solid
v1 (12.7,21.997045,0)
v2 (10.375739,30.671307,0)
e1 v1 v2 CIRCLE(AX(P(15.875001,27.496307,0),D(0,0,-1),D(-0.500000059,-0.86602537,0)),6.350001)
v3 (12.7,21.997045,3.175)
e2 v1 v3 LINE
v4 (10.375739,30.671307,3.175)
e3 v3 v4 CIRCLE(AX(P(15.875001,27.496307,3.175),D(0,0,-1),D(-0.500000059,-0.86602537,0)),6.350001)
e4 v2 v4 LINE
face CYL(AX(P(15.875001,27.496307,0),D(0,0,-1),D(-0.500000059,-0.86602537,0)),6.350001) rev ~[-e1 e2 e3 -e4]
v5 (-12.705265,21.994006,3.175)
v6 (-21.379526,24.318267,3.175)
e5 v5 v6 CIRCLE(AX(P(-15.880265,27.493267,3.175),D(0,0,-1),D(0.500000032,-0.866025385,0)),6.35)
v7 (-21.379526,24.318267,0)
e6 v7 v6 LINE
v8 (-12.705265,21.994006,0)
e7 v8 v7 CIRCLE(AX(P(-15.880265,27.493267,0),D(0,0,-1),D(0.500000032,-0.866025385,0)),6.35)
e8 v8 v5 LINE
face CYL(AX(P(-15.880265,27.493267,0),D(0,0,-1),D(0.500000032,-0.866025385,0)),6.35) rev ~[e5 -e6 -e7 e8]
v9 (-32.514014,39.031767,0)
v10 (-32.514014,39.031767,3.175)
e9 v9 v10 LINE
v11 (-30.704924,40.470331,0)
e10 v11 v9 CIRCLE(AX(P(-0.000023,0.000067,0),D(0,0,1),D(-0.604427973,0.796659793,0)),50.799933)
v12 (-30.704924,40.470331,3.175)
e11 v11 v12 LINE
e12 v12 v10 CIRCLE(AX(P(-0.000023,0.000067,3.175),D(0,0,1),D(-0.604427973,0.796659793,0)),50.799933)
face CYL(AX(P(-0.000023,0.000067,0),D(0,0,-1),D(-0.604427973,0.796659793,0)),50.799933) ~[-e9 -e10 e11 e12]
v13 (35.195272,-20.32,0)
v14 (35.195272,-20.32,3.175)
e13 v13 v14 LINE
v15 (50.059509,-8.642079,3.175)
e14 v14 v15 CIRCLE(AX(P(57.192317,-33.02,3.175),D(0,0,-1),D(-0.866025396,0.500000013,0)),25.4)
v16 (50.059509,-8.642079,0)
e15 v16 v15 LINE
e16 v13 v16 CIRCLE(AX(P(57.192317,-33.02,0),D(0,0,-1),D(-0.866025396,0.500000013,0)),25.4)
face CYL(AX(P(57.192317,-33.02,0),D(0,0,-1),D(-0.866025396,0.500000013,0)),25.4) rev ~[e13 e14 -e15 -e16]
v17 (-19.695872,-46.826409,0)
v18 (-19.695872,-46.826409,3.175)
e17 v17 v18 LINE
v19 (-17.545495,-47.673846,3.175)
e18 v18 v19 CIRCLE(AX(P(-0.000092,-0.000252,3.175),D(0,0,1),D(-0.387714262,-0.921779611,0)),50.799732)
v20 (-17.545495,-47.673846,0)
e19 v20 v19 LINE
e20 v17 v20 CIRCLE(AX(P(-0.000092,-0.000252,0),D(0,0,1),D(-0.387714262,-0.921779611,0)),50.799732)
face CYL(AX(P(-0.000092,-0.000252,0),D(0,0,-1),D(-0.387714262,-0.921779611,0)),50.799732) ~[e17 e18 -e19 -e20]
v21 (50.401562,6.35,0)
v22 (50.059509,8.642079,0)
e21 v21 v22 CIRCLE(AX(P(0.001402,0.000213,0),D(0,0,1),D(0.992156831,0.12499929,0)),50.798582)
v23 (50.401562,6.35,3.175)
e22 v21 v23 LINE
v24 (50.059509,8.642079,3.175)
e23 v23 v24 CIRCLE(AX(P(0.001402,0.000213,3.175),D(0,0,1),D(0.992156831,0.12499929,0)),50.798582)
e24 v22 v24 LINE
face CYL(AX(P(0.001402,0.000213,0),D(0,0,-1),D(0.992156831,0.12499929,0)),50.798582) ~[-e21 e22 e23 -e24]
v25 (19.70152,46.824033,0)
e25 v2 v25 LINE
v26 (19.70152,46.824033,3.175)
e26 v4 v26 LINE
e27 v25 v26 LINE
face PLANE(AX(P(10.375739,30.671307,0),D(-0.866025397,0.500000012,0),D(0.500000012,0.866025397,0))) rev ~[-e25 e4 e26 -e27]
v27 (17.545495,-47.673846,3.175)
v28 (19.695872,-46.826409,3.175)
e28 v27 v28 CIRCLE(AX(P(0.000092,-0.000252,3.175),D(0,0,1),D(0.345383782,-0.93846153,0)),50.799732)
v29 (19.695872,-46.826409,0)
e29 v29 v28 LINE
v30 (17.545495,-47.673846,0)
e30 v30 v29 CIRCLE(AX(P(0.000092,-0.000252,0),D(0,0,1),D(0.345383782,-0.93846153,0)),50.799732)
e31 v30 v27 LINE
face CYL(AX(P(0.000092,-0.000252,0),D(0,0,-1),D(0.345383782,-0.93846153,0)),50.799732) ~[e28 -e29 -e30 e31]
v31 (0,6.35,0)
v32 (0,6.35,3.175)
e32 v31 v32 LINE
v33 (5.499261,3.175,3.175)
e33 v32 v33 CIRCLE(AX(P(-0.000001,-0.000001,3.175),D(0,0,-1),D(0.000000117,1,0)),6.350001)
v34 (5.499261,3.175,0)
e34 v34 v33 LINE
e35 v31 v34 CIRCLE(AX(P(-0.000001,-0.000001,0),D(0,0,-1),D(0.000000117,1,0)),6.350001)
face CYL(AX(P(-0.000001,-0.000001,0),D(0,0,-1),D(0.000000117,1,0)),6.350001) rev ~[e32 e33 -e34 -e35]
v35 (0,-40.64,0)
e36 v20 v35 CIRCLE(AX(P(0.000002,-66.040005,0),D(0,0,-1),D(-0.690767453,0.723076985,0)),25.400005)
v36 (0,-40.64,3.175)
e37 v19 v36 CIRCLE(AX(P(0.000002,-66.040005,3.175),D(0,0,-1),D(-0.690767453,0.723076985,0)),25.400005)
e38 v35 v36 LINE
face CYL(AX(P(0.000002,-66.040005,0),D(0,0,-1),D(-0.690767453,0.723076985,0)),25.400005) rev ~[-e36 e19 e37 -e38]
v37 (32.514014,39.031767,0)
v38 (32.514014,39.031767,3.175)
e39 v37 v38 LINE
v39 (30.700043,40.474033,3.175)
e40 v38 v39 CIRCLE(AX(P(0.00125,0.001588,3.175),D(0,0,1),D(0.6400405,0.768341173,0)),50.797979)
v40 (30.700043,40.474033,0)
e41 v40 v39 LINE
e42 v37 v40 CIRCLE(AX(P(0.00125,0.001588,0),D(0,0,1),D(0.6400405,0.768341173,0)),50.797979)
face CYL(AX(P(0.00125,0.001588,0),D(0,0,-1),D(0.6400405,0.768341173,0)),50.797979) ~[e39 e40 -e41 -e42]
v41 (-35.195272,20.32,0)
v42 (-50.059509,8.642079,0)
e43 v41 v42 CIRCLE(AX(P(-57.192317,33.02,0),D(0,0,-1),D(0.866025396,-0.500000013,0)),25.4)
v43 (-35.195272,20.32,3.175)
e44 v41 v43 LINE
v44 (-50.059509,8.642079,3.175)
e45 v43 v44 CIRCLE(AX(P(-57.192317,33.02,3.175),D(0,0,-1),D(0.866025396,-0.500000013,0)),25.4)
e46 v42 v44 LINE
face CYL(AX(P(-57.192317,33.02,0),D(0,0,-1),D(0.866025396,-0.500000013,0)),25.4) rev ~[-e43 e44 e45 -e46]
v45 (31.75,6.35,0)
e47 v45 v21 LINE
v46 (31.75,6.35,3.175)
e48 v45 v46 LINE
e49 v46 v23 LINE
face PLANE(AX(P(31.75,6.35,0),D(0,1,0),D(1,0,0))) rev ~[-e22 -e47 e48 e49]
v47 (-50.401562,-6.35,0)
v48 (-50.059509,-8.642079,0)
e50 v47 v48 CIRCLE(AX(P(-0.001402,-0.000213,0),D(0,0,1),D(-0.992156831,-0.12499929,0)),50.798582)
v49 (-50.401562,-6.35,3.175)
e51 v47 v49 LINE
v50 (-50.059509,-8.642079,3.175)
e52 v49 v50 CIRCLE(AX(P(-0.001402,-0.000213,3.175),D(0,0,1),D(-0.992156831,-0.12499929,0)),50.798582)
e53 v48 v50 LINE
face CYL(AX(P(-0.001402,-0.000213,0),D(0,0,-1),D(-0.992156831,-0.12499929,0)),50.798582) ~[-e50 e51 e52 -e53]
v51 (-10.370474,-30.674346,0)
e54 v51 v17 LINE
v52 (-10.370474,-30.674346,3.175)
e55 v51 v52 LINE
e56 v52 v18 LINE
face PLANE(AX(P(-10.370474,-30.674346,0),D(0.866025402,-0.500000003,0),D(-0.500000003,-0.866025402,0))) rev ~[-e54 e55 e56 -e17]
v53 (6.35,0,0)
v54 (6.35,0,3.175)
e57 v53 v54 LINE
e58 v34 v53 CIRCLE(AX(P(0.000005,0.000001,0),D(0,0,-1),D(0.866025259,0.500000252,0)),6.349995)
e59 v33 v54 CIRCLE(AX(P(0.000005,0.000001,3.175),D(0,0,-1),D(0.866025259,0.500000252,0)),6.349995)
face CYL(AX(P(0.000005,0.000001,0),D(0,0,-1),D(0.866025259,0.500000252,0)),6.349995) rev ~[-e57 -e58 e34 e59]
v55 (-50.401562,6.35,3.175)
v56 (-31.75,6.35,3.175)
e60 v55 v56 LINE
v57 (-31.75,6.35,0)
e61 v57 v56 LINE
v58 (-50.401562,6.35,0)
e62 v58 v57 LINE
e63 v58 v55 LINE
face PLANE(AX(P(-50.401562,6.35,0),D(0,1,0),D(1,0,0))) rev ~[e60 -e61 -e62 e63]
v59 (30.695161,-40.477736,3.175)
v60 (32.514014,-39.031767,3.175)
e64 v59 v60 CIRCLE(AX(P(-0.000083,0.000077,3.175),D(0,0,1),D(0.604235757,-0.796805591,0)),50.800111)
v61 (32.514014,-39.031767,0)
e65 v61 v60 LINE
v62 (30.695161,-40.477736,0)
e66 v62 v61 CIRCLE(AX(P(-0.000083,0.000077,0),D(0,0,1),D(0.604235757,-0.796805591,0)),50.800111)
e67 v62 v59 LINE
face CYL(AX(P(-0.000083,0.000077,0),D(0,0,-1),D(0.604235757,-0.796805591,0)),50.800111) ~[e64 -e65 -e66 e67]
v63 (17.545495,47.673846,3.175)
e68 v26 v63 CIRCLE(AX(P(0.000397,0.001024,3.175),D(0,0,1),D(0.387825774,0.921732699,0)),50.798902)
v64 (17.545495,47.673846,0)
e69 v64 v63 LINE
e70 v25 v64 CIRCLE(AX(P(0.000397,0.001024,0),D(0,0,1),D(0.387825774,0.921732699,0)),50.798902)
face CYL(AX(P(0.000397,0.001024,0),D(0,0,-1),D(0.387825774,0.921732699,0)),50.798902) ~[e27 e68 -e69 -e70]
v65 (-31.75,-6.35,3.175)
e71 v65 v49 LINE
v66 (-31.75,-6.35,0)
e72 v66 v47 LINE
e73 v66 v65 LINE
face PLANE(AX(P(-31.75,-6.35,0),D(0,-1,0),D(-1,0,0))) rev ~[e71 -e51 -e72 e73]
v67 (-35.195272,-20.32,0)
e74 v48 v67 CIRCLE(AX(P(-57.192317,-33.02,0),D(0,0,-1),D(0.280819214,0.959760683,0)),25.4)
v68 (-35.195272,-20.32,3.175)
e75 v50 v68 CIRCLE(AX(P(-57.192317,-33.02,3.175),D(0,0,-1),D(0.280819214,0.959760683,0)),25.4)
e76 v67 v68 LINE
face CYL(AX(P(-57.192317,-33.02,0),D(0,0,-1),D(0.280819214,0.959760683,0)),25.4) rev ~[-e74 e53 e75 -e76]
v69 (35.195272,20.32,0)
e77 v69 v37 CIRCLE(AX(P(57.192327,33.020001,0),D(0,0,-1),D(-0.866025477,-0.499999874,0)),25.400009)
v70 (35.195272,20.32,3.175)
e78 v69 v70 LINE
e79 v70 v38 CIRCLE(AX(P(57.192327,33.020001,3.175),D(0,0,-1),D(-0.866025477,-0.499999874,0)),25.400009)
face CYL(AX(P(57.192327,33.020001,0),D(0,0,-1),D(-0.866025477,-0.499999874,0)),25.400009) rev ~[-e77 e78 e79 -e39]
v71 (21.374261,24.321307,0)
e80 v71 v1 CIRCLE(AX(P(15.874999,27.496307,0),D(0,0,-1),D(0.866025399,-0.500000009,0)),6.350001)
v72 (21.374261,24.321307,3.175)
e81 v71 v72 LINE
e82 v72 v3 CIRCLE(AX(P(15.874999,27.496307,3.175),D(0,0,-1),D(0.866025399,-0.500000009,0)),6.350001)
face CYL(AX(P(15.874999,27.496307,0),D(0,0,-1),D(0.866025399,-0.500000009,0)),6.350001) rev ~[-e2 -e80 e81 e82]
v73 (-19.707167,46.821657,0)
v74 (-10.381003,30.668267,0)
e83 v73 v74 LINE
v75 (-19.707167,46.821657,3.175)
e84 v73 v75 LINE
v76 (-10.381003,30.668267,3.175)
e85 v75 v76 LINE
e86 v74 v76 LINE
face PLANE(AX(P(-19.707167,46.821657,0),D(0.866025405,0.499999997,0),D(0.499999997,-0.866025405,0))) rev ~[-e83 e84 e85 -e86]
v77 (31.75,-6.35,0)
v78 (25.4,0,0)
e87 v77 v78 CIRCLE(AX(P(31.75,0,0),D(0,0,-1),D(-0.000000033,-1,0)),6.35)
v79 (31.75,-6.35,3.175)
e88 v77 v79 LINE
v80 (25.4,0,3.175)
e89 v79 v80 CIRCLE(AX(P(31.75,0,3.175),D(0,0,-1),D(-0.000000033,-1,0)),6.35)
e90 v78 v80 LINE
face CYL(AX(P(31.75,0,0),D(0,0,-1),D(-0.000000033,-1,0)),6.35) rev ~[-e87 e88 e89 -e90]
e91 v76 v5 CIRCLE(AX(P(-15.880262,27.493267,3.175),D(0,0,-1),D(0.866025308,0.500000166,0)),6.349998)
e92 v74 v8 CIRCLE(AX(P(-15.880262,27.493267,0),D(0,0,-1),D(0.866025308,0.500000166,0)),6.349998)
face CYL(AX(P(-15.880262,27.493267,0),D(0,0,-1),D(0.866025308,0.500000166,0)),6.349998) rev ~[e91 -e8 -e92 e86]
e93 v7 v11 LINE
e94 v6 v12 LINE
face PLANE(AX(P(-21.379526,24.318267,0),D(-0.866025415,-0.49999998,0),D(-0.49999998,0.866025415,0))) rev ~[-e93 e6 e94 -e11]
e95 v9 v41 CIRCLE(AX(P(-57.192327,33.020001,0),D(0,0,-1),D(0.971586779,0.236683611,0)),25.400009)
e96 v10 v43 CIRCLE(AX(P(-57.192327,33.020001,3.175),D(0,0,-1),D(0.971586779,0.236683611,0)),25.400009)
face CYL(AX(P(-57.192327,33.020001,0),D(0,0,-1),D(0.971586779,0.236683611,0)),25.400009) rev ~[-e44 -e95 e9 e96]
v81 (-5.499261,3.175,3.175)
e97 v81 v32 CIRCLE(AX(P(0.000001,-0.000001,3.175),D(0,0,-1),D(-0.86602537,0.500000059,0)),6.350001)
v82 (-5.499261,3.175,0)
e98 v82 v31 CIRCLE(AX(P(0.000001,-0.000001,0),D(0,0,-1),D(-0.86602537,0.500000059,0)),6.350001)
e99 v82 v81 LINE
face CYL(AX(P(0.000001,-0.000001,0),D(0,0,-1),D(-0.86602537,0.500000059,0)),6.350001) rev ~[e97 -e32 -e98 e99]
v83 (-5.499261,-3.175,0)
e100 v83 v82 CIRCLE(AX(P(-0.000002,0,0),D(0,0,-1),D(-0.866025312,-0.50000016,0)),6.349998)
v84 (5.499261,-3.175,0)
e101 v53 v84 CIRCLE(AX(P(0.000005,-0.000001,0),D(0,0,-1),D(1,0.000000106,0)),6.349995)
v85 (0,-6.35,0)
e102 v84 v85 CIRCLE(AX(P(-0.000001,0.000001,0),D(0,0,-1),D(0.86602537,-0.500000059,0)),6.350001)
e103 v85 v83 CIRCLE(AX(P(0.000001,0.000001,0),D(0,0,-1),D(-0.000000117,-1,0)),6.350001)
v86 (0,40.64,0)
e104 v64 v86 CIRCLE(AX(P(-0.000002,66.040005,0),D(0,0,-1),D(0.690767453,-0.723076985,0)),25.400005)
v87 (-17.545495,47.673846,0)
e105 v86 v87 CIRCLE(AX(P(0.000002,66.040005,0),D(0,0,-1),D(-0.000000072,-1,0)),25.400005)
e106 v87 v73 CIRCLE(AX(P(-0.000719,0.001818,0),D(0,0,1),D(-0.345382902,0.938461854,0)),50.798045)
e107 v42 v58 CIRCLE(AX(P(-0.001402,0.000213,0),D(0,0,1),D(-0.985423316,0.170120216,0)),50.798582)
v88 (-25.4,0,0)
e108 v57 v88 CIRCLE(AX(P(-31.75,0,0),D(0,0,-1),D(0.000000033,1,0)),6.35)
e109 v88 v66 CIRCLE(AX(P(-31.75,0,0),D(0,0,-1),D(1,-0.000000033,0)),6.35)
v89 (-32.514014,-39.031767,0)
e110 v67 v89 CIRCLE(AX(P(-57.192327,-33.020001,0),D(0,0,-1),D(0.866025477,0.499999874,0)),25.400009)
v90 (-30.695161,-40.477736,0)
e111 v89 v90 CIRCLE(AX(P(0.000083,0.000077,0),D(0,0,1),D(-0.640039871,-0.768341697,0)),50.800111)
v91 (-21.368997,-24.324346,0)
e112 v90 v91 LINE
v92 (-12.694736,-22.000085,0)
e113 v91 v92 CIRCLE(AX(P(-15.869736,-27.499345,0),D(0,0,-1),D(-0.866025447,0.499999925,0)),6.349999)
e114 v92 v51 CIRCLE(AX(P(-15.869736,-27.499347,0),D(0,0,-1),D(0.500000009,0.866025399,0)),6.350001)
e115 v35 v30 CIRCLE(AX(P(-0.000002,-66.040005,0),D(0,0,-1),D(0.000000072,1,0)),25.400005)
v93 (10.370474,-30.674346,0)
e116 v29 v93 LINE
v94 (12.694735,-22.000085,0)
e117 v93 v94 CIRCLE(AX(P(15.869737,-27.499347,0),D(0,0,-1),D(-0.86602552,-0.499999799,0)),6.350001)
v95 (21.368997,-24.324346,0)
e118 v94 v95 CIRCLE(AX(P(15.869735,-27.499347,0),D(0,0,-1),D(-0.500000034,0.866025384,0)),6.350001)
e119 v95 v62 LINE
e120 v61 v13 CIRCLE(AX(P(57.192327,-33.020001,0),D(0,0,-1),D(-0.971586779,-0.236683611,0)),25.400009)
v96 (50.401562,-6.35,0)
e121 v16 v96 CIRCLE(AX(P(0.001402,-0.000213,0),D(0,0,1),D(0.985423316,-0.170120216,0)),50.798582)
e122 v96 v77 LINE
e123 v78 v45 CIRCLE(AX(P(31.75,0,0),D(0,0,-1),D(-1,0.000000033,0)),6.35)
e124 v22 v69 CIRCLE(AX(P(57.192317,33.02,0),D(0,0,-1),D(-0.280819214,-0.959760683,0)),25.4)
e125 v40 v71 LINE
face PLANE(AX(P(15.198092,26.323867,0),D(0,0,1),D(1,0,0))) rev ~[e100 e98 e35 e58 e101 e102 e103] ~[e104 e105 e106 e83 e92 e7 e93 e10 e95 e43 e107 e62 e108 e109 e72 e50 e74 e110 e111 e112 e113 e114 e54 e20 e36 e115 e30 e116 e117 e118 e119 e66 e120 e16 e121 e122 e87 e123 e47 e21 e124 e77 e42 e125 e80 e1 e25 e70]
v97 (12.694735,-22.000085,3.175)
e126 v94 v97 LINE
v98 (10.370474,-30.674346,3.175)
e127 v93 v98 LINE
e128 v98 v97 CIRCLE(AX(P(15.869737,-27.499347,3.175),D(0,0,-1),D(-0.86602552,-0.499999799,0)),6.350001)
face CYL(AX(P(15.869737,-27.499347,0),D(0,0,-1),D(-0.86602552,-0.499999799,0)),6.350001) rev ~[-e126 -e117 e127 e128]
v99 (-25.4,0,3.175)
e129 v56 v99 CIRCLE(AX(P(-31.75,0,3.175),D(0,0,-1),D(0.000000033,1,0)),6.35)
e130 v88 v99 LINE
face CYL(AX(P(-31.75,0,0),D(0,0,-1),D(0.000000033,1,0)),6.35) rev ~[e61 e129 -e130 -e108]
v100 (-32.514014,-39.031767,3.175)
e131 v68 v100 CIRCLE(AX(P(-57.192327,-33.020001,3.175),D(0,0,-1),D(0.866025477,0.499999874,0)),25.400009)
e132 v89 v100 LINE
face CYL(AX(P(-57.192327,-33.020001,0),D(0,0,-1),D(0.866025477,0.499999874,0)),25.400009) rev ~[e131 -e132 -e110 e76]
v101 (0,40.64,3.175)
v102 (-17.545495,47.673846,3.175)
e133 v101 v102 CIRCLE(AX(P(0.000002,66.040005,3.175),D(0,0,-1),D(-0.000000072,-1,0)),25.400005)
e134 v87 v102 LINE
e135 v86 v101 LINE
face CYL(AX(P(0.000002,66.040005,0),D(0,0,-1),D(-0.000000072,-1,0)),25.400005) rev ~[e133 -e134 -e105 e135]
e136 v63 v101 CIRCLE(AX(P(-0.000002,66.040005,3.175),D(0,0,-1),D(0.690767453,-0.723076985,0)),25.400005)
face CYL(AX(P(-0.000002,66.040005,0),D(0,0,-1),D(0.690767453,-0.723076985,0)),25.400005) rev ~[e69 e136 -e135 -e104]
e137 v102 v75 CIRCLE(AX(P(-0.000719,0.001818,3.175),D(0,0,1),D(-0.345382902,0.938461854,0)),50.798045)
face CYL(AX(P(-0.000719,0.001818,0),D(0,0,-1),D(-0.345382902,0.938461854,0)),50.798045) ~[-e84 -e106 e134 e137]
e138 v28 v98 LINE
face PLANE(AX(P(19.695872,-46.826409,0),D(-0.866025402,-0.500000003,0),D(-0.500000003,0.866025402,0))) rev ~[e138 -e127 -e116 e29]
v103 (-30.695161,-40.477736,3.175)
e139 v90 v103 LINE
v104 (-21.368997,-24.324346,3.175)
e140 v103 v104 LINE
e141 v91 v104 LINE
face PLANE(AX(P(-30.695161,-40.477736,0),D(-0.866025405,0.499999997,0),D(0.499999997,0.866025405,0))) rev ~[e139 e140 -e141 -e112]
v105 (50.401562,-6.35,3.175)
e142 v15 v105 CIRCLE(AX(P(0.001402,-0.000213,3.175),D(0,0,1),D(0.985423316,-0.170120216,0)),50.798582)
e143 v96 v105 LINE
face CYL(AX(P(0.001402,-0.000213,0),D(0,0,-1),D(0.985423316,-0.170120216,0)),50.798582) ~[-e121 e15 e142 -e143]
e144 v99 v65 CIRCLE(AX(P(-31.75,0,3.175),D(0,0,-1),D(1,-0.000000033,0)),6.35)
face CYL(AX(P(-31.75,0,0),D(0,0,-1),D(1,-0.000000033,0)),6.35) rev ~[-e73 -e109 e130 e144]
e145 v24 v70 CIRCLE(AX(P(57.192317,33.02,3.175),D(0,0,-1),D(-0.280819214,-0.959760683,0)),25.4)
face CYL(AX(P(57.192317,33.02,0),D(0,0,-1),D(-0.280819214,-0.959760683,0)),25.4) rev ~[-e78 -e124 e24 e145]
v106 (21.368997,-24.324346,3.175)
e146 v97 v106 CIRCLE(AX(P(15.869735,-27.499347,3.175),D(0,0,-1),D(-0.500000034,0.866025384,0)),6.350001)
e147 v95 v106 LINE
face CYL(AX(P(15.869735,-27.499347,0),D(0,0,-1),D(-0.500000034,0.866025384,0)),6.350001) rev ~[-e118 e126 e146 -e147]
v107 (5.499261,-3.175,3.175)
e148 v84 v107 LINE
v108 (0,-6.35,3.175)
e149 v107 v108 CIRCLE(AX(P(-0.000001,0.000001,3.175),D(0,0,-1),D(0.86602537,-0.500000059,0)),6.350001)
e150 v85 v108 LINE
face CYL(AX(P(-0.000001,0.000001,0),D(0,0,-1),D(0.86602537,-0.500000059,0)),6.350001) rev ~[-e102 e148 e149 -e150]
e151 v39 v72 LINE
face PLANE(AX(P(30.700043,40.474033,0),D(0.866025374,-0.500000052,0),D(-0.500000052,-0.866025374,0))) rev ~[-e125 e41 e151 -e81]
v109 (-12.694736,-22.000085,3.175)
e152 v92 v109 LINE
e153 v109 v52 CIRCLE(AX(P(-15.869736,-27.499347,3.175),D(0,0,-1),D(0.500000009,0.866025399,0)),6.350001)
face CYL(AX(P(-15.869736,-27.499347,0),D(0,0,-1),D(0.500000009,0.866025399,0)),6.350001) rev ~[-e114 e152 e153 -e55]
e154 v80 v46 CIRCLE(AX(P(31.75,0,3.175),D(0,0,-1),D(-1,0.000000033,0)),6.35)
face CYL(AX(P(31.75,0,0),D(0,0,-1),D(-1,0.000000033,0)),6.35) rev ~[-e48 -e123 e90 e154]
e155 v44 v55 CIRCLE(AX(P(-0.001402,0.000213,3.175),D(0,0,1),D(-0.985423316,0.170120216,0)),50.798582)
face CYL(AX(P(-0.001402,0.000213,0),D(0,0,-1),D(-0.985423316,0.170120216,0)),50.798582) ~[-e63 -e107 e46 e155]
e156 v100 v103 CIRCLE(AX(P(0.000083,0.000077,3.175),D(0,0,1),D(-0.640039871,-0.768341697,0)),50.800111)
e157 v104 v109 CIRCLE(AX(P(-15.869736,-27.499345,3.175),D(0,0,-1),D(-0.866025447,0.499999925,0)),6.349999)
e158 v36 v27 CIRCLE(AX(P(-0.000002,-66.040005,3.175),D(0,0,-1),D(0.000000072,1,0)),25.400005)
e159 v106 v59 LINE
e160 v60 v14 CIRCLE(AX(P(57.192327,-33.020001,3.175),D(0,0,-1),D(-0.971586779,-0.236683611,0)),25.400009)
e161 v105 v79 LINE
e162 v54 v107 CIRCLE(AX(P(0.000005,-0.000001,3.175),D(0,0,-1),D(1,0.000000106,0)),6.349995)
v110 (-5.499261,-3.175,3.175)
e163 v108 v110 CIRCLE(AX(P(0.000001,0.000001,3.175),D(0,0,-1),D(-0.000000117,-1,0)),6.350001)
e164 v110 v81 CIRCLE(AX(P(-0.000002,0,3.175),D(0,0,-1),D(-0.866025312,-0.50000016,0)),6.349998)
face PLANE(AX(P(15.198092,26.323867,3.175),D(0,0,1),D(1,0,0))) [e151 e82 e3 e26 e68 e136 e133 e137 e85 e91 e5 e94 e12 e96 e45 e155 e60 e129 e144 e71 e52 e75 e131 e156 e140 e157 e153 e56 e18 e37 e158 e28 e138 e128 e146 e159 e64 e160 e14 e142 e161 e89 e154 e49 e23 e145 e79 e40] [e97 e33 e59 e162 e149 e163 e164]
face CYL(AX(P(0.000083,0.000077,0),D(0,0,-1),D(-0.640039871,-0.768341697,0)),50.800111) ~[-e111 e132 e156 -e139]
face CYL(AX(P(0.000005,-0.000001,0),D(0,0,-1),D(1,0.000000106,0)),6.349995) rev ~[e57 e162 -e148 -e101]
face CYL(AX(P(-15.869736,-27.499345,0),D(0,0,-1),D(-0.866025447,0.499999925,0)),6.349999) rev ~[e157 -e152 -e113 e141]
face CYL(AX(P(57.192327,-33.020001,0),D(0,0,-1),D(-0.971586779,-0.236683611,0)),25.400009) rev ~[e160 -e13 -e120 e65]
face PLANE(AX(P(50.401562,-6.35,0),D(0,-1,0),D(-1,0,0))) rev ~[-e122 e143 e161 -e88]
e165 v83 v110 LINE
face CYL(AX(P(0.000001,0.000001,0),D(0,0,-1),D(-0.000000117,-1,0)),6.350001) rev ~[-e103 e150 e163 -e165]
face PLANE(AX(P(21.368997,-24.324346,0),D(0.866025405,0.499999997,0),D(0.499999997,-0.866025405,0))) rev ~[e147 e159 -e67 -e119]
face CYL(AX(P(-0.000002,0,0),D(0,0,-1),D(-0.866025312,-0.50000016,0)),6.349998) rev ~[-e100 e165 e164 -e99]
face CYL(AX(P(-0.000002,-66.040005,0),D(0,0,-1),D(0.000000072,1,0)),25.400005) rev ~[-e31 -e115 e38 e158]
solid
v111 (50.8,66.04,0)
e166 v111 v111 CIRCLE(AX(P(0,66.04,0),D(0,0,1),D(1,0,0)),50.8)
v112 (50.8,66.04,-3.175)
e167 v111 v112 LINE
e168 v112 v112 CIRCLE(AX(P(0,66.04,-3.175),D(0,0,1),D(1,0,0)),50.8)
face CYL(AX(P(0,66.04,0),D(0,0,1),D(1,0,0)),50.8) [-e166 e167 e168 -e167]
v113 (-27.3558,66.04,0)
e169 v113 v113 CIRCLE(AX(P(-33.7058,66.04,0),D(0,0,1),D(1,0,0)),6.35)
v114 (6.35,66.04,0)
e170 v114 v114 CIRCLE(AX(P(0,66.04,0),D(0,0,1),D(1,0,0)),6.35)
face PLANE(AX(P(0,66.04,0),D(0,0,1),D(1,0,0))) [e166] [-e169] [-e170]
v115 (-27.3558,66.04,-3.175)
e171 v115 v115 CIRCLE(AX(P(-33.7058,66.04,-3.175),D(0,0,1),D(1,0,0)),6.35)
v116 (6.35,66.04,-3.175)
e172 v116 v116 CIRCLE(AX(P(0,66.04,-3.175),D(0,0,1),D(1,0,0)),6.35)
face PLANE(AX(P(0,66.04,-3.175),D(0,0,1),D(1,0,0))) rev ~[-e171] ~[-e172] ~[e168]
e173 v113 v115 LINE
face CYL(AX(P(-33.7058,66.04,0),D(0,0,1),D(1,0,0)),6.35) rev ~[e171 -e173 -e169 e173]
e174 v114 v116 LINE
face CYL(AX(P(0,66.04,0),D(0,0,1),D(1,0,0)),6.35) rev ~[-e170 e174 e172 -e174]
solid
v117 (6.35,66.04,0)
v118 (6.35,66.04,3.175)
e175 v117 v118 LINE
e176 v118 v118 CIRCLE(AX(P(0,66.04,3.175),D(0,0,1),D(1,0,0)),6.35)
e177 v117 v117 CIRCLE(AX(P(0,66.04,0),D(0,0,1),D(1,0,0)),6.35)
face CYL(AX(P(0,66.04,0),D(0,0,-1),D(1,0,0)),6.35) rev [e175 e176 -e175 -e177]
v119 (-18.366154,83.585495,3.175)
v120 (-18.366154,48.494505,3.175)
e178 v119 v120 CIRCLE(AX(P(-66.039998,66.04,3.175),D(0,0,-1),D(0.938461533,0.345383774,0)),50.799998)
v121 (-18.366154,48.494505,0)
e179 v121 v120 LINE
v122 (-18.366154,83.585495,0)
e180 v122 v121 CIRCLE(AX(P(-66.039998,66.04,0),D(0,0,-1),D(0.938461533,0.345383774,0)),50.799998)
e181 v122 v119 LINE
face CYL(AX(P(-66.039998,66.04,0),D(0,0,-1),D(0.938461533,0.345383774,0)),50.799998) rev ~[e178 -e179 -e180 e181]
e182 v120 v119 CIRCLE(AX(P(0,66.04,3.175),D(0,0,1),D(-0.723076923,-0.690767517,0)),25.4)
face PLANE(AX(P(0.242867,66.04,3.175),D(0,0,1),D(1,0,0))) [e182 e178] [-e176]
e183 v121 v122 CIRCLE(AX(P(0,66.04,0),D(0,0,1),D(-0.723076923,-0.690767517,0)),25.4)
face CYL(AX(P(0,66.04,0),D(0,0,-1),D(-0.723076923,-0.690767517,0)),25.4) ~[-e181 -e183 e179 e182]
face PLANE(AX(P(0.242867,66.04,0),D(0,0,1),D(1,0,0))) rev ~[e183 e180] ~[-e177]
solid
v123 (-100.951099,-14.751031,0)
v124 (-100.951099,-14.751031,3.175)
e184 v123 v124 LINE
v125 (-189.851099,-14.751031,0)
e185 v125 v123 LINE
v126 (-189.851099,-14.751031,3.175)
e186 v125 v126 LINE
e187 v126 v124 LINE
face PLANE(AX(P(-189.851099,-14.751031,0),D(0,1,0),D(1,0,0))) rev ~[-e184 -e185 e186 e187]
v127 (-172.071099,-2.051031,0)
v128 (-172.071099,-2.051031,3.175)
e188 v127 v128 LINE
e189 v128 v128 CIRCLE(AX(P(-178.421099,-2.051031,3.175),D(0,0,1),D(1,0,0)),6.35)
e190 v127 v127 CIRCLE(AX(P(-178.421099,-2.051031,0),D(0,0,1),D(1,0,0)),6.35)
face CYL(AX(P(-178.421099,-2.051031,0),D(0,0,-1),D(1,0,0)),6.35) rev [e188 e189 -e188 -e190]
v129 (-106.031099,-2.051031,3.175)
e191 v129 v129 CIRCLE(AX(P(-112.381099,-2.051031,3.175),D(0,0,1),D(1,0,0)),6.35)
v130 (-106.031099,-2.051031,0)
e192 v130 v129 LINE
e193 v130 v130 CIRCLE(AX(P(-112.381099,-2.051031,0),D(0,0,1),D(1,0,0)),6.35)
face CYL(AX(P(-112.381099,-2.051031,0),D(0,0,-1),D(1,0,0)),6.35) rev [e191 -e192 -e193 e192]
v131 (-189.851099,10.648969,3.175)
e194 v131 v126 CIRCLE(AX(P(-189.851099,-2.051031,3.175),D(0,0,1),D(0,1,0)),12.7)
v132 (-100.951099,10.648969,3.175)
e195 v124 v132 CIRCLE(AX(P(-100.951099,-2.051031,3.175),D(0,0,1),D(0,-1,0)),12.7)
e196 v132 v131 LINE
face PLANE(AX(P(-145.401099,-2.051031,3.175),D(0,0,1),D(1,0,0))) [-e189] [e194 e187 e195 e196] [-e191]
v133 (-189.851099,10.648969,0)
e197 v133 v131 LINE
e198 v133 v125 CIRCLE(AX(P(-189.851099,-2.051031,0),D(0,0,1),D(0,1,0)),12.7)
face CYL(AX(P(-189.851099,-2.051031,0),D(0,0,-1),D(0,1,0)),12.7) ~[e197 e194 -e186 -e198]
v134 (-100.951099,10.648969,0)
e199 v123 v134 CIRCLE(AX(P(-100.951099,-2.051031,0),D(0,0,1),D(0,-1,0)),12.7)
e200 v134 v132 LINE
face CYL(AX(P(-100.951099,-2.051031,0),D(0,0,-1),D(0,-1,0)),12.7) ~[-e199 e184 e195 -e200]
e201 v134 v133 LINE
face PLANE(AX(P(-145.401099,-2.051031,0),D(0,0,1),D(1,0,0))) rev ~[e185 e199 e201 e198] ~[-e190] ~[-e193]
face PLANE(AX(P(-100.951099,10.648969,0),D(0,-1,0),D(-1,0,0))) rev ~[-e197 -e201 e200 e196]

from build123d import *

# Parameters (mm, degrees)
F1_DEPTH = 3.175
F2_R     = 50.8
F2_R_2   = 6.35
F3_DEPTH = 3.175
F4_R     = 6.35
F5_DEPTH = 3.175
F6_R     = 6.35
F7_DEPTH = 3.175
F8_DEPTH = 3.176


with BuildPart() as f1:
    # F0 (on Top) → F1 (new body)
    with BuildSketch(Plane.XY):
        with BuildLine():
            Line((0, 40.64), (0, 6.35))
            ThreePointArc((0, 6.35), (3.175, 5.499261), (5.499261, 3.175))
            Line((5.499261, 3.175), (35.195272, 20.32))
            ThreePointArc((35.195272, 20.32), (32.049136, 29.417168), (32.514014, 39.031767))
            ThreePointArc((32.514014, 39.031767), (31.615254, 39.763246), (30.700043, 40.474033))
            Line((30.700043, 40.474033), (21.374261, 24.321307))
            Line((21.374261, 24.321307), (18.199261, 18.822045))
            Line((18.199261, 18.822045), (12.7, 21.997045))
            Line((12.7, 21.997045), (7.200739, 25.172045))
            Line((7.200739, 25.172045), (10.375739, 30.671307))
            Line((10.375739, 30.671307), (19.70152, 46.824033))
            ThreePointArc((19.70152, 46.824033), (18.628354, 47.261236), (17.545495, 47.673846))
            ThreePointArc((17.545495, 47.673846), (9.451447, 42.46395), (0, 40.64))
        make_face()
        with BuildLine():
            ThreePointArc((-32.514014, 39.031767), (-32.049136, 29.417168), (-35.195272, 20.32))
            Line((-35.195272, 20.32), (-5.499261, 3.175))
            ThreePointArc((-5.499261, 3.175), (-3.175, 5.499261), (0, 6.35))
            Line((0, 6.35), (0, 40.64))
            ThreePointArc((0, 40.64), (-9.451447, 42.46395), (-17.545495, 47.673846))
            ThreePointArc((-17.545495, 47.673846), (-18.631204, 47.260113), (-19.707167, 46.821657))
            Line((-19.707167, 46.821657), (-10.381003, 30.668267))
            Line((-10.381003, 30.668267), (-7.206003, 25.169006))
            Line((-7.206003, 25.169006), (-12.705265, 21.994006))
            Line((-12.705265, 21.994006), (-18.204526, 18.819006))
            Line((-18.204526, 18.819006), (-21.379526, 24.318267))
            Line((-21.379526, 24.318267), (-30.704924, 40.470331))
            ThreePointArc((-30.704924, 40.470331), (-31.617652, 39.761339), (-32.514014, 39.031767))
        make_face()
        with BuildLine():
            ThreePointArc((-35.195272, 20.32), (-41.500582, 13.046782), (-50.059509, 8.642079))
            ThreePointArc((-50.059509, 8.642079), (-50.243608, 7.49799), (-50.401562, 6.35))
            Line((-50.401562, 6.35), (-31.75, 6.35))
            Line((-31.75, 6.35), (-25.4, 6.35))
            Line((-25.4, 6.35), (-25.4, 0))
            Line((-25.4, 0), (-25.4, -6.35))
            Line((-25.4, -6.35), (-31.75, -6.35))
            Line((-31.75, -6.35), (-50.401562, -6.35))
            ThreePointArc((-50.401562, -6.35), (-50.243608, -7.49799), (-50.059509, -8.642079))
            ThreePointArc((-50.059509, -8.642079), (-41.500582, -13.046782), (-35.195272, -20.32))
            Line((-35.195272, -20.32), (-5.499261, -3.175))
            ThreePointArc((-5.499261, -3.175), (-6.35, 0), (-5.499261, 3.175))
            Line((-5.499261, 3.175), (-35.195272, 20.32))
        make_face()
        with BuildLine():
            ThreePointArc((0, -6.35), (-3.175, -5.499261), (-5.499261, -3.175))
            Line((-5.499261, -3.175), (-35.195272, -20.32))
            ThreePointArc((-35.195272, -20.32), (-32.049136, -29.417168), (-32.514014, -39.031767))
            ThreePointArc((-32.514014, -39.031767), (-31.612856, -39.765152), (-30.695161, -40.477736))
            Line((-30.695161, -40.477736), (-21.368997, -24.324346))
            Line((-21.368997, -24.324346), (-18.193997, -18.825085))
            Line((-18.193997, -18.825085), (-12.694736, -22.000085))
            Line((-12.694736, -22.000085), (-7.195474, -25.175085))
            Line((-7.195474, -25.175085), (-10.370474, -30.674346))
            Line((-10.370474, -30.674346), (-19.695872, -46.826409))
            ThreePointArc((-19.695872, -46.826409), (-18.625504, -47.262359), (-17.545495, -47.673846))
            ThreePointArc((-17.545495, -47.673846), (-9.451447, -42.46395), (0, -40.64))
            Line((0, -40.64), (0, -6.35))
        make_face()
        with BuildLine():
            Line((35.195272, -20.32), (5.499261, -3.175))
            ThreePointArc((5.499261, -3.175), (3.175, -5.499261), (0, -6.35))
            Line((0, -6.35), (0, -40.64))
            ThreePointArc((0, -40.64), (9.451447, -42.46395), (17.545495, -47.673846))
            ThreePointArc((17.545495, -47.673846), (18.625504, -47.262359), (19.695872, -46.826409))
            Line((19.695872, -46.826409), (10.370474, -30.674346))
            Line((10.370474, -30.674346), (7.195474, -25.175085))
            Line((7.195474, -25.175085), (12.694735, -22.000085))
            Line((12.694735, -22.000085), (18.193997, -18.825085))
            Line((18.193997, -18.825085), (21.368997, -24.324346))
            Line((21.368997, -24.324346), (30.695161, -40.477736))
            ThreePointArc((30.695161, -40.477736), (31.612856, -39.765152), (32.514014, -39.031767))
            ThreePointArc((32.514014, -39.031767), (32.049136, -29.417168), (35.195272, -20.32))
        make_face()
        with BuildLine():
            Line((35.195272, 20.32), (5.499261, 3.175))
            ThreePointArc((5.499261, 3.175), (6.133629, 1.643501), (6.35, 0))
            ThreePointArc((6.35, 0), (6.133629, -1.643501), (5.499261, -3.175))
            Line((5.499261, -3.175), (35.195272, -20.32))
            ThreePointArc((35.195272, -20.32), (41.500582, -13.046782), (50.059509, -8.642079))
            ThreePointArc((50.059509, -8.642079), (50.243608, -7.49799), (50.401562, -6.35))
            Line((50.401562, -6.35), (31.75, -6.35))
            Line((31.75, -6.35), (25.4, -6.35))
            Line((25.4, -6.35), (25.4, 0))
            Line((25.4, 0), (25.4, 6.35))
            Line((25.4, 6.35), (31.75, 6.35))
            Line((31.75, 6.35), (50.401562, 6.35))
            ThreePointArc((50.401562, 6.35), (50.243608, 7.49799), (50.059509, 8.642079))
            ThreePointArc((50.059509, 8.642079), (41.500582, 13.046782), (35.195272, 20.32))
        make_face()
        with BuildLine():
            Line((-25.4, 6.35), (-31.75, 6.35))
            ThreePointArc((-31.75, 6.35), (-27.259872, 4.490128), (-25.4, 0))
            Line((-25.4, 0), (-25.4, 6.35))
        make_face()
        with BuildLine():
            Line((-25.4, -6.35), (-25.4, 0))
            ThreePointArc((-25.4, 0), (-27.259872, -4.490128), (-31.75, -6.35))
            Line((-31.75, -6.35), (-25.4, -6.35))
        make_face()
        with BuildLine():
            ThreePointArc((-12.705265, 21.994006), (-17.523765, 21.359638), (-21.379526, 24.318267))
            Line((-21.379526, 24.318267), (-18.204526, 18.819006))
            Line((-18.204526, 18.819006), (-12.705265, 21.994006))
        make_face()
        with BuildLine():
            ThreePointArc((-10.381003, 30.668267), (-9.746635, 25.849766), (-12.705265, 21.994006))
            Line((-12.705265, 21.994006), (-7.206003, 25.169006))
            Line((-7.206003, 25.169006), (-10.381003, 30.668267))
        make_face()
        with BuildLine():
            ThreePointArc((12.7, 21.997045), (9.741371, 25.852806), (10.375739, 30.671307))
            Line((10.375739, 30.671307), (7.200739, 25.172045))
            Line((7.200739, 25.172045), (12.7, 21.997045))
        make_face()
        with BuildLine():
            Line((18.199261, 18.822045), (21.374261, 24.321307))
            ThreePointArc((21.374261, 24.321307), (17.518501, 21.362678), (12.7, 21.997045))
            Line((12.7, 21.997045), (18.199261, 18.822045))
        make_face()
        with BuildLine():
            ThreePointArc((25.4, 0), (27.259872, 4.490128), (31.75, 6.35))
            Line((31.75, 6.35), (25.4, 6.35))
            Line((25.4, 6.35), (25.4, 0))
        make_face()
        with BuildLine():
            Line((25.4, -6.35), (31.75, -6.35))
            ThreePointArc((31.75, -6.35), (27.259872, -4.490128), (25.4, 0))
            Line((25.4, 0), (25.4, -6.35))
        make_face()
        with BuildLine():
            ThreePointArc((12.694735, -22.000085), (17.513236, -21.365717), (21.368997, -24.324346))
            Line((21.368997, -24.324346), (18.193997, -18.825085))
            Line((18.193997, -18.825085), (12.694735, -22.000085))
        make_face()
        with BuildLine():
            Line((7.195474, -25.175085), (10.370474, -30.674346))
            ThreePointArc((10.370474, -30.674346), (9.736107, -25.855845), (12.694735, -22.000085))
            Line((12.694735, -22.000085), (7.195474, -25.175085))
        make_face()
        with BuildLine():
            ThreePointArc((-12.694736, -22.000085), (-9.736107, -25.855845), (-10.370474, -30.674346))
            Line((-10.370474, -30.674346), (-7.195474, -25.175085))
            Line((-7.195474, -25.175085), (-12.694736, -22.000085))
        make_face()
        with BuildLine():
            Line((-18.193997, -18.825085), (-21.368997, -24.324346))
            ThreePointArc((-21.368997, -24.324346), (-17.513237, -21.365717), (-12.694736, -22.000085))
            Line((-12.694736, -22.000085), (-18.193997, -18.825085))
        make_face()
    extrude(amount=F1_DEPTH)


with BuildPart() as f3:
    # F2 (on Top) → F3 (new body)
    with BuildSketch(Plane.XY):
        with Locations((0, 66.04)):
            Circle(F2_R)
        with Locations((0, 66.04)):
            Circle(F2_R_2, mode=Mode.SUBTRACT)
    extrude(amount=-F3_DEPTH)

    # F4 (on face) → F8 (cut, through all)
    with BuildSketch(Plane.XY):
        with Locations((-33.7058, 66.04)):
            Circle(F4_R)
    extrude(amount=-F8_DEPTH, mode=Mode.SUBTRACT)


with BuildPart() as f5:
    # F4 (on face) → F5 (new body)
    with BuildSketch(Plane.XY):
        with BuildLine():
            ThreePointArc((-18.366154, 83.585495), (-15.24, 66.04), (-18.366154, 48.494505))
            ThreePointArc((-18.366154, 48.494505), (25.4, 66.04), (-18.366154, 83.585495))
        make_face()
        with Locations((0, 66.04)):
            Circle(F4_R, mode=Mode.SUBTRACT)
    extrude(amount=F5_DEPTH)


with BuildPart() as f7:
    # F6 (on Top) → F7 (new body)
    with BuildSketch(Plane.XY):
        with BuildLine():
            ThreePointArc((-189.851099, 10.648969), (-202.551099, -2.051031), (-189.851099, -14.751031))
            Line((-189.851099, -14.751031), (-100.951099, -14.751031))
            ThreePointArc((-100.951099, -14.751031), (-88.251099, -2.051031), (-100.951099, 10.648969))
            Line((-100.951099, 10.648969), (-189.851099, 10.648969))
        make_face()
        with Locations((-178.421099, -2.051031)):
            Circle(F6_R, mode=Mode.SUBTRACT)
        with Locations((-112.381099, -2.051031)):
            Circle(F6_R, mode=Mode.SUBTRACT)
    extrude(amount=F7_DEPTH)


solid = Compound([f1.part, f3.part, f5.part, f7.part])
